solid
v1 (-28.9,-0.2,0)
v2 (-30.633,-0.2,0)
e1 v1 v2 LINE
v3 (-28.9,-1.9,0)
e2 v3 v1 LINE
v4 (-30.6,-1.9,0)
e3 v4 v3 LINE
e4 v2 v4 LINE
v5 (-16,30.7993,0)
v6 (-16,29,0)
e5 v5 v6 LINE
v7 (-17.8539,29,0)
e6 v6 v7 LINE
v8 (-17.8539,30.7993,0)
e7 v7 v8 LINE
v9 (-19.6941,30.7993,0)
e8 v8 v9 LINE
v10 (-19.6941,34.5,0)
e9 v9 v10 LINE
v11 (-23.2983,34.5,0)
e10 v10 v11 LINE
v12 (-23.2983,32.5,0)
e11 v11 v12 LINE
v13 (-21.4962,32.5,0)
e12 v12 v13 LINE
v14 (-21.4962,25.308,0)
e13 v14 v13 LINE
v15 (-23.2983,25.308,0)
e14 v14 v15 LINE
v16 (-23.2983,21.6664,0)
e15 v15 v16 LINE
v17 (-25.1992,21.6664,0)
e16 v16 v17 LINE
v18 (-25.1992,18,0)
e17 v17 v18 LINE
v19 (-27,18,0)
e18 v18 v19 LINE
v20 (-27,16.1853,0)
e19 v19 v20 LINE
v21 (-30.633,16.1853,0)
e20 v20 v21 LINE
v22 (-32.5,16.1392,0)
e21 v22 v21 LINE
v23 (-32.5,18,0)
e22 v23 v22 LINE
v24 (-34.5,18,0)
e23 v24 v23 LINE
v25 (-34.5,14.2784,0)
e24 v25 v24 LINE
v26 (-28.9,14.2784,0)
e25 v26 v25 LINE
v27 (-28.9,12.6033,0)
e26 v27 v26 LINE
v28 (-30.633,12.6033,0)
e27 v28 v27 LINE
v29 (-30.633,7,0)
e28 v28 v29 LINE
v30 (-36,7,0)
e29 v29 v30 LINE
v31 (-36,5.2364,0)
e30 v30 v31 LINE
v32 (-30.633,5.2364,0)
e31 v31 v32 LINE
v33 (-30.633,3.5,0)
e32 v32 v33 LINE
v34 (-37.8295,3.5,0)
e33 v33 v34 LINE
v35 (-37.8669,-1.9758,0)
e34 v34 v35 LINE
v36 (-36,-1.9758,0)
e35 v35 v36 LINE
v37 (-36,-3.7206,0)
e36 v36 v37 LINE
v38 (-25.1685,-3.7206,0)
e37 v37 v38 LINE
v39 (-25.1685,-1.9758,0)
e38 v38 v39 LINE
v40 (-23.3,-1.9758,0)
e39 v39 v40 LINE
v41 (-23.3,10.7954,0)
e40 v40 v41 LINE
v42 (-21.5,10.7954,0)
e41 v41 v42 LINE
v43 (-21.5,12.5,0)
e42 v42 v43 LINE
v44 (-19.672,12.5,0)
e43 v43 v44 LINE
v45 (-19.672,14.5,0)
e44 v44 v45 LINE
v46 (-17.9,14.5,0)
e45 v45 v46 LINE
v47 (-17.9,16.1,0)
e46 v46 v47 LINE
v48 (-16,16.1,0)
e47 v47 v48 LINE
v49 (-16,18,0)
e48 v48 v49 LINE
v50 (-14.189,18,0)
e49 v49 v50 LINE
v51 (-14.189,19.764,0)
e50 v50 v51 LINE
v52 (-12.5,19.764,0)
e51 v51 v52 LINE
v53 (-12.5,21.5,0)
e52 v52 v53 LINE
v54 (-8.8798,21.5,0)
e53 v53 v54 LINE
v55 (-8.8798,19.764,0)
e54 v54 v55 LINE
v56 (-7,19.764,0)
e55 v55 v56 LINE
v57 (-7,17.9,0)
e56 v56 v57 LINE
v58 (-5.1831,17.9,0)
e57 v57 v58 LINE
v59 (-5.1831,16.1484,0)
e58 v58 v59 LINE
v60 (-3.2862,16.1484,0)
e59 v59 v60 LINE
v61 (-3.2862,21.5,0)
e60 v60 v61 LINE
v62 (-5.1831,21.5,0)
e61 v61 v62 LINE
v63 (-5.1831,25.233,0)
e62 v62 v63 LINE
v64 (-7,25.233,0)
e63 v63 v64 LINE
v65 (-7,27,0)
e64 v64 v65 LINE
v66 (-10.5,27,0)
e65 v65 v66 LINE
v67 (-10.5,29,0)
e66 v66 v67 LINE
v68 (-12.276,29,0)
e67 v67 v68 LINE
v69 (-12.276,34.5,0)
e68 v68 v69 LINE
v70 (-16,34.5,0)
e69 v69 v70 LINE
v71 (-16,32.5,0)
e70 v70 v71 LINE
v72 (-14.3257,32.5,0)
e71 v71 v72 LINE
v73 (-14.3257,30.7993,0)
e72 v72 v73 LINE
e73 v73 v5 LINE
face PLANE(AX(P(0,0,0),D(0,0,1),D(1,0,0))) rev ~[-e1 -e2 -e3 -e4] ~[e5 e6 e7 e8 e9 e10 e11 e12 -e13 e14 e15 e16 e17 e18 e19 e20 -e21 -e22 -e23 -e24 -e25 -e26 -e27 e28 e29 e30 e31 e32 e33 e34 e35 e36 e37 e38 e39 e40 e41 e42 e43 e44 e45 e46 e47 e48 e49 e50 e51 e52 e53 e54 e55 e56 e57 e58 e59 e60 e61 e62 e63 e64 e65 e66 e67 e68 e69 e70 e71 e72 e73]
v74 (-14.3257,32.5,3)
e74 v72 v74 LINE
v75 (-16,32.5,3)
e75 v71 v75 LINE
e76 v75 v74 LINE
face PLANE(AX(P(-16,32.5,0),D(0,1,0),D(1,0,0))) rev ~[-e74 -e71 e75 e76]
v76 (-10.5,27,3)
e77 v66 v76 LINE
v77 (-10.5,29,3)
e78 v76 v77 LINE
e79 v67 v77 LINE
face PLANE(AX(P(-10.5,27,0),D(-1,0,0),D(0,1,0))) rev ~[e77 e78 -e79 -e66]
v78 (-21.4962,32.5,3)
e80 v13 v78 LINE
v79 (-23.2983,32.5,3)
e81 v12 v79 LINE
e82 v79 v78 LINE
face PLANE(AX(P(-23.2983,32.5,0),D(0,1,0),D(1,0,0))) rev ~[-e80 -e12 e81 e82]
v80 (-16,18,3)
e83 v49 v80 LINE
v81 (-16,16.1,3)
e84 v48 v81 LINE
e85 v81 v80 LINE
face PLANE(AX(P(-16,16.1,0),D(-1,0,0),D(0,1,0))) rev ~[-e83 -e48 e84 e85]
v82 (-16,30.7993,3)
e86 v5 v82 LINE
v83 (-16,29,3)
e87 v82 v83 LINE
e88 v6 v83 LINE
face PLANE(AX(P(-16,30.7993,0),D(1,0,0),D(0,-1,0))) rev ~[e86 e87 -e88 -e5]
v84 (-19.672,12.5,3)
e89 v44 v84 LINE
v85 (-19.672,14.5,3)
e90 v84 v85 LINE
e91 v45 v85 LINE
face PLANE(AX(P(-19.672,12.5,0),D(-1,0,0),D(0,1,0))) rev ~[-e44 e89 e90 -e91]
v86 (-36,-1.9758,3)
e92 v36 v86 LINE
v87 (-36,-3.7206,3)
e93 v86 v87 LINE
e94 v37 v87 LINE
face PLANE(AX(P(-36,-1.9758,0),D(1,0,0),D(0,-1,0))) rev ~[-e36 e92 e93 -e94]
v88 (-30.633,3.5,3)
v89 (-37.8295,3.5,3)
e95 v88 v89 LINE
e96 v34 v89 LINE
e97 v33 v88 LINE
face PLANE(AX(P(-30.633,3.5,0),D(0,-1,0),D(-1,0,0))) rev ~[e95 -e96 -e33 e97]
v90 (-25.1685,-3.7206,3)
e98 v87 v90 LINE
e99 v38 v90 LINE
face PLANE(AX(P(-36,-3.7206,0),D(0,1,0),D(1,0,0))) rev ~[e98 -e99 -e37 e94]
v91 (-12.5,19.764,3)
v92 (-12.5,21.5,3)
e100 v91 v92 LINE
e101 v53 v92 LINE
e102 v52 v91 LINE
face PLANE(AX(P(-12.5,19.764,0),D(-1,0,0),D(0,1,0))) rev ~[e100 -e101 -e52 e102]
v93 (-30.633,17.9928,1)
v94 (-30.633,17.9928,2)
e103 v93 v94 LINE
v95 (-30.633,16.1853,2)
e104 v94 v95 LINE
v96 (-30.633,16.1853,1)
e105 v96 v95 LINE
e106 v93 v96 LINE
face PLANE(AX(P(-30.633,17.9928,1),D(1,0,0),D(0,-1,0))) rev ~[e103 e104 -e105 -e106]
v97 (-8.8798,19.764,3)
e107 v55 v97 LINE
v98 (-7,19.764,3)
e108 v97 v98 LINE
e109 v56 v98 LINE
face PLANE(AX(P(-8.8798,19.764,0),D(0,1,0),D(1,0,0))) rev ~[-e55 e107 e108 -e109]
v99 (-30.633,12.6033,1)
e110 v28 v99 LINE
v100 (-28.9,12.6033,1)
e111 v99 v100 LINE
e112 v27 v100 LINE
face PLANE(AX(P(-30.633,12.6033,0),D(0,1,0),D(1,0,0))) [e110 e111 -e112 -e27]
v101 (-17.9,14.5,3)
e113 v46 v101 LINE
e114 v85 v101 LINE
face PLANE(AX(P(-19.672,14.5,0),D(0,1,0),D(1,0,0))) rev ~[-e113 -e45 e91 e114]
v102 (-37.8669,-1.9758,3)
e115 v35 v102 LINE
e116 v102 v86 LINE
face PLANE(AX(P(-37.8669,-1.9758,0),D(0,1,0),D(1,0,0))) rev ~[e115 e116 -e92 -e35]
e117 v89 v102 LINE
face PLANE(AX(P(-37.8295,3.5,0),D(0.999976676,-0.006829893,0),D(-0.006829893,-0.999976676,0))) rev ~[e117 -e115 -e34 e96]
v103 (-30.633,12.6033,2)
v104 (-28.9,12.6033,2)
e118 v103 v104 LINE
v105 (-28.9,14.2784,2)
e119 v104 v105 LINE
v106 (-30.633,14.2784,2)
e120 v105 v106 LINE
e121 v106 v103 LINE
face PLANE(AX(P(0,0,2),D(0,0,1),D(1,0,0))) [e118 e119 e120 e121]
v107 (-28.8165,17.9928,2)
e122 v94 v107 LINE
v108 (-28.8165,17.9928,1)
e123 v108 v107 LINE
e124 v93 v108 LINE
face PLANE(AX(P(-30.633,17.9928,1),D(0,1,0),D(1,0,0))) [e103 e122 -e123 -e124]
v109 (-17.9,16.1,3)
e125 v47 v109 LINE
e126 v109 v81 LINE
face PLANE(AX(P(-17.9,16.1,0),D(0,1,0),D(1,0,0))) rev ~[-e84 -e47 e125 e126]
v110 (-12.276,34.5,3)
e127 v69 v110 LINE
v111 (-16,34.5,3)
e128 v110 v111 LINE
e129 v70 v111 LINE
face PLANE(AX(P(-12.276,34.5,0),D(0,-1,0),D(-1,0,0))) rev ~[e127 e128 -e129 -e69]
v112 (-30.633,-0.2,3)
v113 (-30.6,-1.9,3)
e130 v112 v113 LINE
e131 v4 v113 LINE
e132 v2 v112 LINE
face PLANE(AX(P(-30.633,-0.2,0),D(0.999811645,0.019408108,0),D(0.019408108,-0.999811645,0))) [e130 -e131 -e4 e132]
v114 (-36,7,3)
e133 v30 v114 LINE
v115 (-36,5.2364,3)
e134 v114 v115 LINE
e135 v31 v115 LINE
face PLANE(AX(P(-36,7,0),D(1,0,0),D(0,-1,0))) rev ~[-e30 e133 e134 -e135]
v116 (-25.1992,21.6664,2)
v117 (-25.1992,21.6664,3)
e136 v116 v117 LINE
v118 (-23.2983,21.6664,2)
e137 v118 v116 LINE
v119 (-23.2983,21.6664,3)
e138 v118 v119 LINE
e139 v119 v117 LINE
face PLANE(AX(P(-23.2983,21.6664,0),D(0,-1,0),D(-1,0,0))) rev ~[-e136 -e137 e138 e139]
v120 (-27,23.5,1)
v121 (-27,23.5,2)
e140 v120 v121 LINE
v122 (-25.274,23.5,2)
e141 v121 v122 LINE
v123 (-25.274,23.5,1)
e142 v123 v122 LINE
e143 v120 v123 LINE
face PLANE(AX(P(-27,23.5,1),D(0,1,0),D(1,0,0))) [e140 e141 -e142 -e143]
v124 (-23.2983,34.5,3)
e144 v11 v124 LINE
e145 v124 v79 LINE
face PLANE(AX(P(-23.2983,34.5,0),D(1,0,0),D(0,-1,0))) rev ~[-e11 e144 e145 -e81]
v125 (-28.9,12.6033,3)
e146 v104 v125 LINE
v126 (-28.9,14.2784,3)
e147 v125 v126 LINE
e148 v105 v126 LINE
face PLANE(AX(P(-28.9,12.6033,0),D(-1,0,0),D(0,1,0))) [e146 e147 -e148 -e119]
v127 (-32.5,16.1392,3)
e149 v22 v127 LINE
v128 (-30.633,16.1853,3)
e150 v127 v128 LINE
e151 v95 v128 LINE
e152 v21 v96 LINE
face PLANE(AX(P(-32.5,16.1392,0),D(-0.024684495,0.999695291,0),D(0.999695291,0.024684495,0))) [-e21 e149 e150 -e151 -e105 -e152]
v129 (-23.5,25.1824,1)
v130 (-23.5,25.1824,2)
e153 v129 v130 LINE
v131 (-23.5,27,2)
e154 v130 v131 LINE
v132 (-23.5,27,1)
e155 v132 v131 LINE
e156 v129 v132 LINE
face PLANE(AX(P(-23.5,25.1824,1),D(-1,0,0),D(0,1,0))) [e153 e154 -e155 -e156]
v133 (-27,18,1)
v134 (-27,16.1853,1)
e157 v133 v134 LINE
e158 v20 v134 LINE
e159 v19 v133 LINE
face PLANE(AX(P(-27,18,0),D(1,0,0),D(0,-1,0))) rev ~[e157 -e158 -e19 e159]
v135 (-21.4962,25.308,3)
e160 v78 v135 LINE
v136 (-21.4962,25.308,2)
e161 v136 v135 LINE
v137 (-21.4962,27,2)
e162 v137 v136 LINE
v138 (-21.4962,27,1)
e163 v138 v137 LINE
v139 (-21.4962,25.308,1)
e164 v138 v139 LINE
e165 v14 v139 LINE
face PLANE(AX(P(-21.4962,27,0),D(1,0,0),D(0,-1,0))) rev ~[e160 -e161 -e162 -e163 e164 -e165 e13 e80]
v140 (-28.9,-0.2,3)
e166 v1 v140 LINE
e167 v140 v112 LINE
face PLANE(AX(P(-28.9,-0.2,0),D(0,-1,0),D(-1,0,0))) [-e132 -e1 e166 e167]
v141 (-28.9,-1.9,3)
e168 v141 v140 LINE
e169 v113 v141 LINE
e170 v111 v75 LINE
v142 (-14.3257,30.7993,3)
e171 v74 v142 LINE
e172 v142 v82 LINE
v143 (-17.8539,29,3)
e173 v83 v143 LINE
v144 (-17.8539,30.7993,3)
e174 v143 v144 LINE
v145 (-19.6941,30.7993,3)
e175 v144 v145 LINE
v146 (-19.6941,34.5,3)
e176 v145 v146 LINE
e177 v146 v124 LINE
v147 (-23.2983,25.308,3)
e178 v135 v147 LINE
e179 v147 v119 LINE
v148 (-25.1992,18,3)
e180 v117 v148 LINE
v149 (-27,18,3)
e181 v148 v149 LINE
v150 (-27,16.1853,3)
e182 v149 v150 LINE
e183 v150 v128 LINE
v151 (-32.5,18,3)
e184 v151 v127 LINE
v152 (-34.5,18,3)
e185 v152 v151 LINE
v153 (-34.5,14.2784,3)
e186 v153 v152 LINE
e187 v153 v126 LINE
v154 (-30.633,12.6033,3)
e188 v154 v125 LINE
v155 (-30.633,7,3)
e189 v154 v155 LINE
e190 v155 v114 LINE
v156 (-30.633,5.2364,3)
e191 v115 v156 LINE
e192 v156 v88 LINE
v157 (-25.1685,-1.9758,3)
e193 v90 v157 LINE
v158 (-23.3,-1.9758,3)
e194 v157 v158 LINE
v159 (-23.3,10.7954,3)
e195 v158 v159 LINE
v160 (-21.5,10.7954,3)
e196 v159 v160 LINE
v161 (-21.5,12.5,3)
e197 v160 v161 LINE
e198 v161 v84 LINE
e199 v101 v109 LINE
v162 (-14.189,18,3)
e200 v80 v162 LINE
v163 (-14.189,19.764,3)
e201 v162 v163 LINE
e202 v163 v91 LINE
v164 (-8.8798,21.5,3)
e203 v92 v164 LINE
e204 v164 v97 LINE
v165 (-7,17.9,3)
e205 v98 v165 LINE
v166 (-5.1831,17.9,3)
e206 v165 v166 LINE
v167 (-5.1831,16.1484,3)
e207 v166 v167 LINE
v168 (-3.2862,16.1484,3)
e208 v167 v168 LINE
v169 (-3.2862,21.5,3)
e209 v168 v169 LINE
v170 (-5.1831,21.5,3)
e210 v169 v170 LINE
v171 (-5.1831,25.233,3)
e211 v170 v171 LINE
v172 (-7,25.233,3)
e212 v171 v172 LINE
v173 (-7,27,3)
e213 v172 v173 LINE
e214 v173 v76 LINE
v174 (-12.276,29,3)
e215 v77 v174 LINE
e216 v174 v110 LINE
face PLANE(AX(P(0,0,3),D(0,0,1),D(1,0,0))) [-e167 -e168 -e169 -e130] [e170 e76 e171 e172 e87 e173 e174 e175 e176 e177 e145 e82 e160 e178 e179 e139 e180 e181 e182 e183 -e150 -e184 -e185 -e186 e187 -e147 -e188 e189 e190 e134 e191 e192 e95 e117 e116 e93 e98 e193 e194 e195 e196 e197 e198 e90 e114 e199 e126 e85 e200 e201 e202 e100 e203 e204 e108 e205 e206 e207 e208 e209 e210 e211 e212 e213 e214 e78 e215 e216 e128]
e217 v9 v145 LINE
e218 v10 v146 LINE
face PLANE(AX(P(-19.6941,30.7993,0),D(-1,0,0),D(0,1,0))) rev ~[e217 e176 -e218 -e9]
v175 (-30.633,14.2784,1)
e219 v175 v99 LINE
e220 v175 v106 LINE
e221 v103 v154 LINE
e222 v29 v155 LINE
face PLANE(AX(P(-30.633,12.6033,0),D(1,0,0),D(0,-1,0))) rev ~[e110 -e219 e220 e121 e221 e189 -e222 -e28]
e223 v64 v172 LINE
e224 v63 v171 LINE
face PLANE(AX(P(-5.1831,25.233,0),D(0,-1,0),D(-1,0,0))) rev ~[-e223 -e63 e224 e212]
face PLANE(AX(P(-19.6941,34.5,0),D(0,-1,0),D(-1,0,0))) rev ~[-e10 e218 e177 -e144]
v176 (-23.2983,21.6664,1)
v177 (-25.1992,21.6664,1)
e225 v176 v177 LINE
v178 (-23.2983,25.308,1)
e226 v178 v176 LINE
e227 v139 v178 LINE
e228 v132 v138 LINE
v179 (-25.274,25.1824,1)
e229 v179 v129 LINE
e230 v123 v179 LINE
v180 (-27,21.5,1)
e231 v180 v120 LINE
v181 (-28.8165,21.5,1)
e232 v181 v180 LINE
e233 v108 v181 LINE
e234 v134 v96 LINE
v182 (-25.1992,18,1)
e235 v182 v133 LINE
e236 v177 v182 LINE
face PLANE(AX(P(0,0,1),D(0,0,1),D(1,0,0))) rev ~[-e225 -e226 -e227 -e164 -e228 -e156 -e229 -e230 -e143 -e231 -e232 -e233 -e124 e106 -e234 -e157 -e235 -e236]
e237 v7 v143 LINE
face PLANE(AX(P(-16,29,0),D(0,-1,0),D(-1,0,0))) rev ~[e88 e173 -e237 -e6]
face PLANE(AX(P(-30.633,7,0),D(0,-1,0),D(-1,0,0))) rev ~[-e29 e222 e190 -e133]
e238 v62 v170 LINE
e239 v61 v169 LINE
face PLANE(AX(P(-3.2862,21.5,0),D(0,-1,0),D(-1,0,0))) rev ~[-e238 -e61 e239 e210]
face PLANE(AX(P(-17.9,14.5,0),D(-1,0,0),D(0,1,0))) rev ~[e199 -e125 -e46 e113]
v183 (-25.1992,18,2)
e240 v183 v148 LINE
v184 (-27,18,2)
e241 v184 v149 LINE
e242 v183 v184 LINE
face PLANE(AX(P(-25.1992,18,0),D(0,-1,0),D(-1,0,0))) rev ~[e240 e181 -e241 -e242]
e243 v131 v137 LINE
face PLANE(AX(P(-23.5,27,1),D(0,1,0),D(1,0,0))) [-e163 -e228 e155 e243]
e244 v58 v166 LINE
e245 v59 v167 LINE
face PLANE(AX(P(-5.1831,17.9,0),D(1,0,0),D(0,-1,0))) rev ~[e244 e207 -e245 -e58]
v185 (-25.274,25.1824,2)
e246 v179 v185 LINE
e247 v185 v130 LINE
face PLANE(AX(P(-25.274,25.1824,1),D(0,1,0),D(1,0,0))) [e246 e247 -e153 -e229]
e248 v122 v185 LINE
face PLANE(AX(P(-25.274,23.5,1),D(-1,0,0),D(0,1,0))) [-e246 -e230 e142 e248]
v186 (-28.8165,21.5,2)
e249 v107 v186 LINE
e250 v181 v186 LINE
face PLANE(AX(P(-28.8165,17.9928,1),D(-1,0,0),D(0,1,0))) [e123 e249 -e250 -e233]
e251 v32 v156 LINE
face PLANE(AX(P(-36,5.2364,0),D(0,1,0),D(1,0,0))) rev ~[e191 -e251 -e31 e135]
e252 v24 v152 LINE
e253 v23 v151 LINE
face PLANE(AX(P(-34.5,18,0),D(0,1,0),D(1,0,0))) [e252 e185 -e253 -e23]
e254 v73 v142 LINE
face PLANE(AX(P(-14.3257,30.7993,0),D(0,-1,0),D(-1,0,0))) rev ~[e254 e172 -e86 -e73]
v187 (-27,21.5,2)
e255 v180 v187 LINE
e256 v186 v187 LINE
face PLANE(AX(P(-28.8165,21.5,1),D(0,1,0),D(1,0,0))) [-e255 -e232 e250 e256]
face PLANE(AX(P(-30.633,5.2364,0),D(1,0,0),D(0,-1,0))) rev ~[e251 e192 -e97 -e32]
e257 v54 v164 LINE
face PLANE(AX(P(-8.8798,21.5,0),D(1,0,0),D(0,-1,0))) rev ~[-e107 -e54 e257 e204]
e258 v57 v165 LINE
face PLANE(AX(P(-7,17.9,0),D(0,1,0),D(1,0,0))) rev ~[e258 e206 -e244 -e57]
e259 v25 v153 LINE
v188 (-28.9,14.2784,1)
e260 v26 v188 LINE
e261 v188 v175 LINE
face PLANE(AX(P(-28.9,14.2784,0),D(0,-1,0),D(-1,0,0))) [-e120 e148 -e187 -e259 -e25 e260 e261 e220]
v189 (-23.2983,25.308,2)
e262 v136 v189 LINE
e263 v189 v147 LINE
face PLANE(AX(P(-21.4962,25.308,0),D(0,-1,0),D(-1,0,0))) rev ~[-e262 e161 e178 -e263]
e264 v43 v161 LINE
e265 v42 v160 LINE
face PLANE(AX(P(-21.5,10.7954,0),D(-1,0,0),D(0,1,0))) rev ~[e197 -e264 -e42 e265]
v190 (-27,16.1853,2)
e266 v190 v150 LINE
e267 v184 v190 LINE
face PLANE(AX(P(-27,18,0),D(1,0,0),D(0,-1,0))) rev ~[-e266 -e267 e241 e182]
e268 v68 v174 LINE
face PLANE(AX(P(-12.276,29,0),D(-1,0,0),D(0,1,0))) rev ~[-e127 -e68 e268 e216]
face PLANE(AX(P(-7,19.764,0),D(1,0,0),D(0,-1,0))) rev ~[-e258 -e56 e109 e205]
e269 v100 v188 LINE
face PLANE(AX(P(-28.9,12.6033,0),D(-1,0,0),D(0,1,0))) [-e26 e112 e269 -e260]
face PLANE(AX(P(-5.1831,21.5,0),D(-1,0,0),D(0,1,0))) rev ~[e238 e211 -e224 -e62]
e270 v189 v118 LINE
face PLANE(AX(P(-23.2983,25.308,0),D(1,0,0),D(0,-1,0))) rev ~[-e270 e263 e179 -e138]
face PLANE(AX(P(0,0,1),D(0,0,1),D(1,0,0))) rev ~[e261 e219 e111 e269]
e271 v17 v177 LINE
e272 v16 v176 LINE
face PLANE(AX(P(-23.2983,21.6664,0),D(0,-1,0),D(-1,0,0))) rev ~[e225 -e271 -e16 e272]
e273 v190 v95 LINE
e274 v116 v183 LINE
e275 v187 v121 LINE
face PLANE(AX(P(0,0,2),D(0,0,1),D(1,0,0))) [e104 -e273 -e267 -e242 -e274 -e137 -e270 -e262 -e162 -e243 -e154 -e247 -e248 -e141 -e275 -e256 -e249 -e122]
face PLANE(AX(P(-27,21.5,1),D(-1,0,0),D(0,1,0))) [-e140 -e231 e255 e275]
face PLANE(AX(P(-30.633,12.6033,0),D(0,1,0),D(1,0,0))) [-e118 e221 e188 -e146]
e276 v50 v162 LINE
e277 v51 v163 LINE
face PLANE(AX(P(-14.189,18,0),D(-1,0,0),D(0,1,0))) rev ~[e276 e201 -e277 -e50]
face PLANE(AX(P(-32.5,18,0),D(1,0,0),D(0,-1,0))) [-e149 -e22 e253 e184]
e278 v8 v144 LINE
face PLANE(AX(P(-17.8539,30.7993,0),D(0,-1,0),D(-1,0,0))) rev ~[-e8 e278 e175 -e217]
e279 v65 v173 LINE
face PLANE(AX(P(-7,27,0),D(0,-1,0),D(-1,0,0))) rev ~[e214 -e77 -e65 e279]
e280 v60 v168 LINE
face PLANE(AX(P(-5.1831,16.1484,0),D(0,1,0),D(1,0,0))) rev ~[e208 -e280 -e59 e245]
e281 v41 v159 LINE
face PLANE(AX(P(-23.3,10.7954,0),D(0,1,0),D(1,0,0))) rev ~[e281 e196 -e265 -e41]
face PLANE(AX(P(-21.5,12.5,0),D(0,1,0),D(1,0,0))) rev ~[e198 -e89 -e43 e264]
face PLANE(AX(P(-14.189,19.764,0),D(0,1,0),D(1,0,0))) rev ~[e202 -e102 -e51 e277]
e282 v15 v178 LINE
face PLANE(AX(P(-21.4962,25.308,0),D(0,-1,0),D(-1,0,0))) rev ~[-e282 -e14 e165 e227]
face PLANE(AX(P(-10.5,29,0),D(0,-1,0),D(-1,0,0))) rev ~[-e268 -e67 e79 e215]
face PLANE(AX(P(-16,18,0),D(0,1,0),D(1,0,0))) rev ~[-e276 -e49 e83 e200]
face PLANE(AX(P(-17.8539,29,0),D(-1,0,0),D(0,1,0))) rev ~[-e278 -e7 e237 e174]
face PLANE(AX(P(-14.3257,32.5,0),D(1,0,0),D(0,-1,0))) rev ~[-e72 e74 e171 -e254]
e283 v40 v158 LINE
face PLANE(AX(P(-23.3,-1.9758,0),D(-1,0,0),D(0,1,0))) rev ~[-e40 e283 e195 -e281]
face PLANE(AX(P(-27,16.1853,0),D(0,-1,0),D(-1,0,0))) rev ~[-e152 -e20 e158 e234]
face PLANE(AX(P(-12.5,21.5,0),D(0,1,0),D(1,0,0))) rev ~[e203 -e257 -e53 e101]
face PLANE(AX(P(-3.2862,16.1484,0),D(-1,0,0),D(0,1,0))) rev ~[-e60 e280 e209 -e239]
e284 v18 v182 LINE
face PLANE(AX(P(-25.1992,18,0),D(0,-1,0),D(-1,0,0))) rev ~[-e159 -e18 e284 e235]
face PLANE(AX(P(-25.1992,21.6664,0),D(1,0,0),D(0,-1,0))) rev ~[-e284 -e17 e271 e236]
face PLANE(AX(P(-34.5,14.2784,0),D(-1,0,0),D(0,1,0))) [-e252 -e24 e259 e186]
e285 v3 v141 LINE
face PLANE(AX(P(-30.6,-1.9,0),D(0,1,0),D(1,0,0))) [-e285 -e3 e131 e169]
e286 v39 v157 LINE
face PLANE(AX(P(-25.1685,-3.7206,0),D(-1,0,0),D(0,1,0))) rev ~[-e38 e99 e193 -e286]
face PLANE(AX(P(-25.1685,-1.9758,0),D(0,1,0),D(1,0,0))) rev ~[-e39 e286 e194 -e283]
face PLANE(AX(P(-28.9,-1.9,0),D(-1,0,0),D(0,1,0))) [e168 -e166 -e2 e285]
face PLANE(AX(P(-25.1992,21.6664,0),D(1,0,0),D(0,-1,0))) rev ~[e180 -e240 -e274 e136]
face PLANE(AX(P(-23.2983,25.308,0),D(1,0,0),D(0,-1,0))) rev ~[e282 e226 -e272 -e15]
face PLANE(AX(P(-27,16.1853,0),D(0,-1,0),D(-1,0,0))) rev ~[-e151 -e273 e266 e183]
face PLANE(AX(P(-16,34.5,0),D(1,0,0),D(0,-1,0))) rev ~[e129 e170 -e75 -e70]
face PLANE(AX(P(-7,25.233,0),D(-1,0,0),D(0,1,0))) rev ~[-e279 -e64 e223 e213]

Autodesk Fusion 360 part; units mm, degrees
sketch "dino" plane through (0, 0, 0) normal (0, 0, 1) x (1, 0, 0)
  line L0 (-1, -5) -> (-41, -5)
  line L1 (-41, -5) -> (-41, 35)
  line L2 (-41, 35) -> (-1, 35)
  line L3 (-1, 35) -> (-1, -5)
  line L4 (-37.8669, -1.9758) -> (-36, -1.9758)
  line L5 (-36, -1.9758) -> (-36, -3.7206)
  line L6 (-36, -3.7206) -> (-25.1685, -3.7206)
  line L7 (-25.1685, -3.7206) -> (-25.1685, -1.9758)
  line L8 (-25.1685, -1.9758) -> (-23.3, -1.9758)
  line L9 (-23.3, -1.9758) -> (-23.3, 10.7954)
  line L10 (-23.3, 10.7954) -> (-21.5, 10.7954)
  line L11 (-21.5, 10.7954) -> (-21.5, 12.5)
  line L12 (-21.5, 12.5) -> (-19.672, 12.5)
  line L13 (-19.672, 12.5) -> (-19.672, 14.5)
  line L14 (-19.672, 14.5) -> (-17.9, 14.5)
  line L15 (-17.9, 14.5) -> (-17.9, 16.1)
  line L16 (-17.9, 16.1) -> (-16, 16.1)
  line L17 (-16, 16.1) -> (-16, 18)
  line L18 (-16, 18) -> (-14.189, 18)
  line L19 (-14.189, 18) -> (-14.189, 19.764)
  line L20 (-14.189, 19.764) -> (-12.5, 19.764)
  line L21 (-12.5, 19.764) -> (-12.5, 21.5)
  line L22 (-12.5, 21.5) -> (-8.8798, 21.5)
  line L23 (-8.8798, 21.5) -> (-8.8798, 19.764)
  line L24 (-8.8798, 19.764) -> (-7, 19.764)
  line L25 (-7, 19.764) -> (-7, 17.9)
  line L26 (-7, 17.9) -> (-5.1831, 17.9)
  line L27 (-5.1831, 17.9) -> (-5.1831, 16.1484)
  line L28 (-5.1831, 16.1484) -> (-3.2862, 16.1484)
  line L29 (-3.2862, 16.1484) -> (-3.2862, 21.5)
  line L30 (-3.2862, 21.5) -> (-5.1831, 21.5)
  line L31 (-5.1831, 21.5) -> (-5.1831, 25.233)
  line L32 (-5.1831, 25.233) -> (-7, 25.233)
  line L33 (-7, 25.233) -> (-7, 27)
  line L34 (-7, 27) -> (-10.5, 27)
  line L35 (-10.5, 27) -> (-10.5, 29)
  line L36 (-10.5, 29) -> (-12.276, 29)
  line L37 (-12.276, 29) -> (-12.276, 34.5)
  line L38 (-12.276, 34.5) -> (-16, 34.5)
  line L39 (-16, 34.5) -> (-16, 32.5)
  line L40 (-16, 32.5) -> (-14.3257, 32.5)
  line L41 (-14.3257, 32.5) -> (-14.3257, 30.7993)
  line L42 (-14.3257, 30.7993) -> (-16, 30.7993)
  line L43 (-16, 30.7993) -> (-16, 29)
  line L44 (-16, 29) -> (-17.8539, 29)
  line L45 (-17.8539, 29) -> (-17.8539, 30.7993)
  line L46 (-17.8539, 30.7993) -> (-19.6941, 30.7993)
  line L47 (-19.6941, 30.7993) -> (-19.6941, 34.5)
  line L48 (-19.6941, 34.5) -> (-23.2983, 34.5)
  line L49 (-23.2983, 34.5) -> (-23.2983, 32.5)
  line L50 (-23.2983, 32.5) -> (-21.4962, 32.5)
  line L51 (-21.4962, 32.5) -> (-21.4962, 25.308)
  line L52 (-21.4962, 25.308) -> (-23.2983, 25.308)
  line L53 (-23.2983, 25.308) -> (-23.2983, 21.6664)
  line L54 (-23.2983, 21.6664) -> (-25.1992, 21.6664)
  line L55 (-25.1992, 21.6664) -> (-25.1992, 18)
  line L56 (-25.1992, 18) -> (-27, 18)
  line L57 (-27, 18) -> (-27, 16.1853)
  line L58 (-27, 16.1853) -> (-30.633, 16.1853)
  line L59 (-30.633, 16.1853) -> (-30.633, 7)
  line L60 (-30.633, 7) -> (-36, 7)
  line L61 (-36, 7) -> (-36, 5.2364)
  line L62 (-36, 5.2364) -> (-30.633, 5.2364)
  line L63 (-30.633, 5.2364) -> (-30.633, 3.5)
  line L64 (-30.633, 3.5) -> (-37.8295, 3.5)
  line L65 (-37.8295, 3.5) -> (-37.8669, -1.9758)
  line L66 (-30.6, -1.9) -> (-28.9, -1.9)
  line L67 (-28.9, -1.9) -> (-28.9, -0.2)
  line L68 (-28.9, -0.2) -> (-30.633, -0.2)
  line L69 (-30.633, -0.2) -> (-30.6, -1.9)
  line L70 (-30.633, 12.6033) -> (-28.9, 12.6033)
  line L71 (-28.9, 12.6033) -> (-28.9, 14.2784)
  line L72 (-28.9, 14.2784) -> (-34.5, 14.2784)
  line L73 (-34.5, 14.2784) -> (-34.5, 18)
  line L74 (-34.5, 18) -> (-32.5, 18)
  line L75 (-32.5, 18) -> (-32.5, 16.1392)
  line L76 (-32.5, 16.1392) -> (-30.633, 16.1853)
  line L77 (-30.633, 17.9928) -> (-28.8165, 17.9928)
  line L78 (-28.8165, 17.9928) -> (-28.8165, 21.5)
  line L79 (-28.8165, 21.5) -> (-27, 21.5)
  line L80 (-27, 21.5) -> (-27, 23.5)
  line L81 (-27, 23.5) -> (-25.274, 23.5)
  line L82 (-25.274, 23.5) -> (-25.274, 25.1824)
  line L83 (-25.274, 25.1824) -> (-23.5, 25.1824)
  line L84 (-23.5, 25.1824) -> (-23.5, 27)
  line L85 (-23.5, 27) -> (-21.4962, 27)
  line L86 (-30.633, 17.9928) -> (-30.633, 16.1853)
  dimension "d1" = 40
  dimension "d2" = 40
extrude "Extrude1" add sketch "dino" along normal blind 3 contours L4 L5 L6 L7 L8 L9 L10 L11 L12 L13 L14 L15 L16 L17 L18 L19 L20 L21 L22 L23 L24 L25 L26 L27 L28 L29 L30 L31 L32 L33 L34 L35 L36 L37 L38 L39 L40 L41 L42 L43 L44 L45 L46 L47 L48 L49 L50 L51 L52 L53 L54 L55 L56 L57 L58 L59 L60 L61 L62 L63 L64 L65 L70 L71 L72 | L59 L72 L73 L74 L75 L76
extrude "Extrude2" add sketch "dino" along normal blind 2 and the other way blind -1 contours L59 L70 L71 L72 | L51 L52 L53 L54 L55 L56 L57 L58 L77 L78 L79 L80 L81 L82 L83 L84 L85 L86
